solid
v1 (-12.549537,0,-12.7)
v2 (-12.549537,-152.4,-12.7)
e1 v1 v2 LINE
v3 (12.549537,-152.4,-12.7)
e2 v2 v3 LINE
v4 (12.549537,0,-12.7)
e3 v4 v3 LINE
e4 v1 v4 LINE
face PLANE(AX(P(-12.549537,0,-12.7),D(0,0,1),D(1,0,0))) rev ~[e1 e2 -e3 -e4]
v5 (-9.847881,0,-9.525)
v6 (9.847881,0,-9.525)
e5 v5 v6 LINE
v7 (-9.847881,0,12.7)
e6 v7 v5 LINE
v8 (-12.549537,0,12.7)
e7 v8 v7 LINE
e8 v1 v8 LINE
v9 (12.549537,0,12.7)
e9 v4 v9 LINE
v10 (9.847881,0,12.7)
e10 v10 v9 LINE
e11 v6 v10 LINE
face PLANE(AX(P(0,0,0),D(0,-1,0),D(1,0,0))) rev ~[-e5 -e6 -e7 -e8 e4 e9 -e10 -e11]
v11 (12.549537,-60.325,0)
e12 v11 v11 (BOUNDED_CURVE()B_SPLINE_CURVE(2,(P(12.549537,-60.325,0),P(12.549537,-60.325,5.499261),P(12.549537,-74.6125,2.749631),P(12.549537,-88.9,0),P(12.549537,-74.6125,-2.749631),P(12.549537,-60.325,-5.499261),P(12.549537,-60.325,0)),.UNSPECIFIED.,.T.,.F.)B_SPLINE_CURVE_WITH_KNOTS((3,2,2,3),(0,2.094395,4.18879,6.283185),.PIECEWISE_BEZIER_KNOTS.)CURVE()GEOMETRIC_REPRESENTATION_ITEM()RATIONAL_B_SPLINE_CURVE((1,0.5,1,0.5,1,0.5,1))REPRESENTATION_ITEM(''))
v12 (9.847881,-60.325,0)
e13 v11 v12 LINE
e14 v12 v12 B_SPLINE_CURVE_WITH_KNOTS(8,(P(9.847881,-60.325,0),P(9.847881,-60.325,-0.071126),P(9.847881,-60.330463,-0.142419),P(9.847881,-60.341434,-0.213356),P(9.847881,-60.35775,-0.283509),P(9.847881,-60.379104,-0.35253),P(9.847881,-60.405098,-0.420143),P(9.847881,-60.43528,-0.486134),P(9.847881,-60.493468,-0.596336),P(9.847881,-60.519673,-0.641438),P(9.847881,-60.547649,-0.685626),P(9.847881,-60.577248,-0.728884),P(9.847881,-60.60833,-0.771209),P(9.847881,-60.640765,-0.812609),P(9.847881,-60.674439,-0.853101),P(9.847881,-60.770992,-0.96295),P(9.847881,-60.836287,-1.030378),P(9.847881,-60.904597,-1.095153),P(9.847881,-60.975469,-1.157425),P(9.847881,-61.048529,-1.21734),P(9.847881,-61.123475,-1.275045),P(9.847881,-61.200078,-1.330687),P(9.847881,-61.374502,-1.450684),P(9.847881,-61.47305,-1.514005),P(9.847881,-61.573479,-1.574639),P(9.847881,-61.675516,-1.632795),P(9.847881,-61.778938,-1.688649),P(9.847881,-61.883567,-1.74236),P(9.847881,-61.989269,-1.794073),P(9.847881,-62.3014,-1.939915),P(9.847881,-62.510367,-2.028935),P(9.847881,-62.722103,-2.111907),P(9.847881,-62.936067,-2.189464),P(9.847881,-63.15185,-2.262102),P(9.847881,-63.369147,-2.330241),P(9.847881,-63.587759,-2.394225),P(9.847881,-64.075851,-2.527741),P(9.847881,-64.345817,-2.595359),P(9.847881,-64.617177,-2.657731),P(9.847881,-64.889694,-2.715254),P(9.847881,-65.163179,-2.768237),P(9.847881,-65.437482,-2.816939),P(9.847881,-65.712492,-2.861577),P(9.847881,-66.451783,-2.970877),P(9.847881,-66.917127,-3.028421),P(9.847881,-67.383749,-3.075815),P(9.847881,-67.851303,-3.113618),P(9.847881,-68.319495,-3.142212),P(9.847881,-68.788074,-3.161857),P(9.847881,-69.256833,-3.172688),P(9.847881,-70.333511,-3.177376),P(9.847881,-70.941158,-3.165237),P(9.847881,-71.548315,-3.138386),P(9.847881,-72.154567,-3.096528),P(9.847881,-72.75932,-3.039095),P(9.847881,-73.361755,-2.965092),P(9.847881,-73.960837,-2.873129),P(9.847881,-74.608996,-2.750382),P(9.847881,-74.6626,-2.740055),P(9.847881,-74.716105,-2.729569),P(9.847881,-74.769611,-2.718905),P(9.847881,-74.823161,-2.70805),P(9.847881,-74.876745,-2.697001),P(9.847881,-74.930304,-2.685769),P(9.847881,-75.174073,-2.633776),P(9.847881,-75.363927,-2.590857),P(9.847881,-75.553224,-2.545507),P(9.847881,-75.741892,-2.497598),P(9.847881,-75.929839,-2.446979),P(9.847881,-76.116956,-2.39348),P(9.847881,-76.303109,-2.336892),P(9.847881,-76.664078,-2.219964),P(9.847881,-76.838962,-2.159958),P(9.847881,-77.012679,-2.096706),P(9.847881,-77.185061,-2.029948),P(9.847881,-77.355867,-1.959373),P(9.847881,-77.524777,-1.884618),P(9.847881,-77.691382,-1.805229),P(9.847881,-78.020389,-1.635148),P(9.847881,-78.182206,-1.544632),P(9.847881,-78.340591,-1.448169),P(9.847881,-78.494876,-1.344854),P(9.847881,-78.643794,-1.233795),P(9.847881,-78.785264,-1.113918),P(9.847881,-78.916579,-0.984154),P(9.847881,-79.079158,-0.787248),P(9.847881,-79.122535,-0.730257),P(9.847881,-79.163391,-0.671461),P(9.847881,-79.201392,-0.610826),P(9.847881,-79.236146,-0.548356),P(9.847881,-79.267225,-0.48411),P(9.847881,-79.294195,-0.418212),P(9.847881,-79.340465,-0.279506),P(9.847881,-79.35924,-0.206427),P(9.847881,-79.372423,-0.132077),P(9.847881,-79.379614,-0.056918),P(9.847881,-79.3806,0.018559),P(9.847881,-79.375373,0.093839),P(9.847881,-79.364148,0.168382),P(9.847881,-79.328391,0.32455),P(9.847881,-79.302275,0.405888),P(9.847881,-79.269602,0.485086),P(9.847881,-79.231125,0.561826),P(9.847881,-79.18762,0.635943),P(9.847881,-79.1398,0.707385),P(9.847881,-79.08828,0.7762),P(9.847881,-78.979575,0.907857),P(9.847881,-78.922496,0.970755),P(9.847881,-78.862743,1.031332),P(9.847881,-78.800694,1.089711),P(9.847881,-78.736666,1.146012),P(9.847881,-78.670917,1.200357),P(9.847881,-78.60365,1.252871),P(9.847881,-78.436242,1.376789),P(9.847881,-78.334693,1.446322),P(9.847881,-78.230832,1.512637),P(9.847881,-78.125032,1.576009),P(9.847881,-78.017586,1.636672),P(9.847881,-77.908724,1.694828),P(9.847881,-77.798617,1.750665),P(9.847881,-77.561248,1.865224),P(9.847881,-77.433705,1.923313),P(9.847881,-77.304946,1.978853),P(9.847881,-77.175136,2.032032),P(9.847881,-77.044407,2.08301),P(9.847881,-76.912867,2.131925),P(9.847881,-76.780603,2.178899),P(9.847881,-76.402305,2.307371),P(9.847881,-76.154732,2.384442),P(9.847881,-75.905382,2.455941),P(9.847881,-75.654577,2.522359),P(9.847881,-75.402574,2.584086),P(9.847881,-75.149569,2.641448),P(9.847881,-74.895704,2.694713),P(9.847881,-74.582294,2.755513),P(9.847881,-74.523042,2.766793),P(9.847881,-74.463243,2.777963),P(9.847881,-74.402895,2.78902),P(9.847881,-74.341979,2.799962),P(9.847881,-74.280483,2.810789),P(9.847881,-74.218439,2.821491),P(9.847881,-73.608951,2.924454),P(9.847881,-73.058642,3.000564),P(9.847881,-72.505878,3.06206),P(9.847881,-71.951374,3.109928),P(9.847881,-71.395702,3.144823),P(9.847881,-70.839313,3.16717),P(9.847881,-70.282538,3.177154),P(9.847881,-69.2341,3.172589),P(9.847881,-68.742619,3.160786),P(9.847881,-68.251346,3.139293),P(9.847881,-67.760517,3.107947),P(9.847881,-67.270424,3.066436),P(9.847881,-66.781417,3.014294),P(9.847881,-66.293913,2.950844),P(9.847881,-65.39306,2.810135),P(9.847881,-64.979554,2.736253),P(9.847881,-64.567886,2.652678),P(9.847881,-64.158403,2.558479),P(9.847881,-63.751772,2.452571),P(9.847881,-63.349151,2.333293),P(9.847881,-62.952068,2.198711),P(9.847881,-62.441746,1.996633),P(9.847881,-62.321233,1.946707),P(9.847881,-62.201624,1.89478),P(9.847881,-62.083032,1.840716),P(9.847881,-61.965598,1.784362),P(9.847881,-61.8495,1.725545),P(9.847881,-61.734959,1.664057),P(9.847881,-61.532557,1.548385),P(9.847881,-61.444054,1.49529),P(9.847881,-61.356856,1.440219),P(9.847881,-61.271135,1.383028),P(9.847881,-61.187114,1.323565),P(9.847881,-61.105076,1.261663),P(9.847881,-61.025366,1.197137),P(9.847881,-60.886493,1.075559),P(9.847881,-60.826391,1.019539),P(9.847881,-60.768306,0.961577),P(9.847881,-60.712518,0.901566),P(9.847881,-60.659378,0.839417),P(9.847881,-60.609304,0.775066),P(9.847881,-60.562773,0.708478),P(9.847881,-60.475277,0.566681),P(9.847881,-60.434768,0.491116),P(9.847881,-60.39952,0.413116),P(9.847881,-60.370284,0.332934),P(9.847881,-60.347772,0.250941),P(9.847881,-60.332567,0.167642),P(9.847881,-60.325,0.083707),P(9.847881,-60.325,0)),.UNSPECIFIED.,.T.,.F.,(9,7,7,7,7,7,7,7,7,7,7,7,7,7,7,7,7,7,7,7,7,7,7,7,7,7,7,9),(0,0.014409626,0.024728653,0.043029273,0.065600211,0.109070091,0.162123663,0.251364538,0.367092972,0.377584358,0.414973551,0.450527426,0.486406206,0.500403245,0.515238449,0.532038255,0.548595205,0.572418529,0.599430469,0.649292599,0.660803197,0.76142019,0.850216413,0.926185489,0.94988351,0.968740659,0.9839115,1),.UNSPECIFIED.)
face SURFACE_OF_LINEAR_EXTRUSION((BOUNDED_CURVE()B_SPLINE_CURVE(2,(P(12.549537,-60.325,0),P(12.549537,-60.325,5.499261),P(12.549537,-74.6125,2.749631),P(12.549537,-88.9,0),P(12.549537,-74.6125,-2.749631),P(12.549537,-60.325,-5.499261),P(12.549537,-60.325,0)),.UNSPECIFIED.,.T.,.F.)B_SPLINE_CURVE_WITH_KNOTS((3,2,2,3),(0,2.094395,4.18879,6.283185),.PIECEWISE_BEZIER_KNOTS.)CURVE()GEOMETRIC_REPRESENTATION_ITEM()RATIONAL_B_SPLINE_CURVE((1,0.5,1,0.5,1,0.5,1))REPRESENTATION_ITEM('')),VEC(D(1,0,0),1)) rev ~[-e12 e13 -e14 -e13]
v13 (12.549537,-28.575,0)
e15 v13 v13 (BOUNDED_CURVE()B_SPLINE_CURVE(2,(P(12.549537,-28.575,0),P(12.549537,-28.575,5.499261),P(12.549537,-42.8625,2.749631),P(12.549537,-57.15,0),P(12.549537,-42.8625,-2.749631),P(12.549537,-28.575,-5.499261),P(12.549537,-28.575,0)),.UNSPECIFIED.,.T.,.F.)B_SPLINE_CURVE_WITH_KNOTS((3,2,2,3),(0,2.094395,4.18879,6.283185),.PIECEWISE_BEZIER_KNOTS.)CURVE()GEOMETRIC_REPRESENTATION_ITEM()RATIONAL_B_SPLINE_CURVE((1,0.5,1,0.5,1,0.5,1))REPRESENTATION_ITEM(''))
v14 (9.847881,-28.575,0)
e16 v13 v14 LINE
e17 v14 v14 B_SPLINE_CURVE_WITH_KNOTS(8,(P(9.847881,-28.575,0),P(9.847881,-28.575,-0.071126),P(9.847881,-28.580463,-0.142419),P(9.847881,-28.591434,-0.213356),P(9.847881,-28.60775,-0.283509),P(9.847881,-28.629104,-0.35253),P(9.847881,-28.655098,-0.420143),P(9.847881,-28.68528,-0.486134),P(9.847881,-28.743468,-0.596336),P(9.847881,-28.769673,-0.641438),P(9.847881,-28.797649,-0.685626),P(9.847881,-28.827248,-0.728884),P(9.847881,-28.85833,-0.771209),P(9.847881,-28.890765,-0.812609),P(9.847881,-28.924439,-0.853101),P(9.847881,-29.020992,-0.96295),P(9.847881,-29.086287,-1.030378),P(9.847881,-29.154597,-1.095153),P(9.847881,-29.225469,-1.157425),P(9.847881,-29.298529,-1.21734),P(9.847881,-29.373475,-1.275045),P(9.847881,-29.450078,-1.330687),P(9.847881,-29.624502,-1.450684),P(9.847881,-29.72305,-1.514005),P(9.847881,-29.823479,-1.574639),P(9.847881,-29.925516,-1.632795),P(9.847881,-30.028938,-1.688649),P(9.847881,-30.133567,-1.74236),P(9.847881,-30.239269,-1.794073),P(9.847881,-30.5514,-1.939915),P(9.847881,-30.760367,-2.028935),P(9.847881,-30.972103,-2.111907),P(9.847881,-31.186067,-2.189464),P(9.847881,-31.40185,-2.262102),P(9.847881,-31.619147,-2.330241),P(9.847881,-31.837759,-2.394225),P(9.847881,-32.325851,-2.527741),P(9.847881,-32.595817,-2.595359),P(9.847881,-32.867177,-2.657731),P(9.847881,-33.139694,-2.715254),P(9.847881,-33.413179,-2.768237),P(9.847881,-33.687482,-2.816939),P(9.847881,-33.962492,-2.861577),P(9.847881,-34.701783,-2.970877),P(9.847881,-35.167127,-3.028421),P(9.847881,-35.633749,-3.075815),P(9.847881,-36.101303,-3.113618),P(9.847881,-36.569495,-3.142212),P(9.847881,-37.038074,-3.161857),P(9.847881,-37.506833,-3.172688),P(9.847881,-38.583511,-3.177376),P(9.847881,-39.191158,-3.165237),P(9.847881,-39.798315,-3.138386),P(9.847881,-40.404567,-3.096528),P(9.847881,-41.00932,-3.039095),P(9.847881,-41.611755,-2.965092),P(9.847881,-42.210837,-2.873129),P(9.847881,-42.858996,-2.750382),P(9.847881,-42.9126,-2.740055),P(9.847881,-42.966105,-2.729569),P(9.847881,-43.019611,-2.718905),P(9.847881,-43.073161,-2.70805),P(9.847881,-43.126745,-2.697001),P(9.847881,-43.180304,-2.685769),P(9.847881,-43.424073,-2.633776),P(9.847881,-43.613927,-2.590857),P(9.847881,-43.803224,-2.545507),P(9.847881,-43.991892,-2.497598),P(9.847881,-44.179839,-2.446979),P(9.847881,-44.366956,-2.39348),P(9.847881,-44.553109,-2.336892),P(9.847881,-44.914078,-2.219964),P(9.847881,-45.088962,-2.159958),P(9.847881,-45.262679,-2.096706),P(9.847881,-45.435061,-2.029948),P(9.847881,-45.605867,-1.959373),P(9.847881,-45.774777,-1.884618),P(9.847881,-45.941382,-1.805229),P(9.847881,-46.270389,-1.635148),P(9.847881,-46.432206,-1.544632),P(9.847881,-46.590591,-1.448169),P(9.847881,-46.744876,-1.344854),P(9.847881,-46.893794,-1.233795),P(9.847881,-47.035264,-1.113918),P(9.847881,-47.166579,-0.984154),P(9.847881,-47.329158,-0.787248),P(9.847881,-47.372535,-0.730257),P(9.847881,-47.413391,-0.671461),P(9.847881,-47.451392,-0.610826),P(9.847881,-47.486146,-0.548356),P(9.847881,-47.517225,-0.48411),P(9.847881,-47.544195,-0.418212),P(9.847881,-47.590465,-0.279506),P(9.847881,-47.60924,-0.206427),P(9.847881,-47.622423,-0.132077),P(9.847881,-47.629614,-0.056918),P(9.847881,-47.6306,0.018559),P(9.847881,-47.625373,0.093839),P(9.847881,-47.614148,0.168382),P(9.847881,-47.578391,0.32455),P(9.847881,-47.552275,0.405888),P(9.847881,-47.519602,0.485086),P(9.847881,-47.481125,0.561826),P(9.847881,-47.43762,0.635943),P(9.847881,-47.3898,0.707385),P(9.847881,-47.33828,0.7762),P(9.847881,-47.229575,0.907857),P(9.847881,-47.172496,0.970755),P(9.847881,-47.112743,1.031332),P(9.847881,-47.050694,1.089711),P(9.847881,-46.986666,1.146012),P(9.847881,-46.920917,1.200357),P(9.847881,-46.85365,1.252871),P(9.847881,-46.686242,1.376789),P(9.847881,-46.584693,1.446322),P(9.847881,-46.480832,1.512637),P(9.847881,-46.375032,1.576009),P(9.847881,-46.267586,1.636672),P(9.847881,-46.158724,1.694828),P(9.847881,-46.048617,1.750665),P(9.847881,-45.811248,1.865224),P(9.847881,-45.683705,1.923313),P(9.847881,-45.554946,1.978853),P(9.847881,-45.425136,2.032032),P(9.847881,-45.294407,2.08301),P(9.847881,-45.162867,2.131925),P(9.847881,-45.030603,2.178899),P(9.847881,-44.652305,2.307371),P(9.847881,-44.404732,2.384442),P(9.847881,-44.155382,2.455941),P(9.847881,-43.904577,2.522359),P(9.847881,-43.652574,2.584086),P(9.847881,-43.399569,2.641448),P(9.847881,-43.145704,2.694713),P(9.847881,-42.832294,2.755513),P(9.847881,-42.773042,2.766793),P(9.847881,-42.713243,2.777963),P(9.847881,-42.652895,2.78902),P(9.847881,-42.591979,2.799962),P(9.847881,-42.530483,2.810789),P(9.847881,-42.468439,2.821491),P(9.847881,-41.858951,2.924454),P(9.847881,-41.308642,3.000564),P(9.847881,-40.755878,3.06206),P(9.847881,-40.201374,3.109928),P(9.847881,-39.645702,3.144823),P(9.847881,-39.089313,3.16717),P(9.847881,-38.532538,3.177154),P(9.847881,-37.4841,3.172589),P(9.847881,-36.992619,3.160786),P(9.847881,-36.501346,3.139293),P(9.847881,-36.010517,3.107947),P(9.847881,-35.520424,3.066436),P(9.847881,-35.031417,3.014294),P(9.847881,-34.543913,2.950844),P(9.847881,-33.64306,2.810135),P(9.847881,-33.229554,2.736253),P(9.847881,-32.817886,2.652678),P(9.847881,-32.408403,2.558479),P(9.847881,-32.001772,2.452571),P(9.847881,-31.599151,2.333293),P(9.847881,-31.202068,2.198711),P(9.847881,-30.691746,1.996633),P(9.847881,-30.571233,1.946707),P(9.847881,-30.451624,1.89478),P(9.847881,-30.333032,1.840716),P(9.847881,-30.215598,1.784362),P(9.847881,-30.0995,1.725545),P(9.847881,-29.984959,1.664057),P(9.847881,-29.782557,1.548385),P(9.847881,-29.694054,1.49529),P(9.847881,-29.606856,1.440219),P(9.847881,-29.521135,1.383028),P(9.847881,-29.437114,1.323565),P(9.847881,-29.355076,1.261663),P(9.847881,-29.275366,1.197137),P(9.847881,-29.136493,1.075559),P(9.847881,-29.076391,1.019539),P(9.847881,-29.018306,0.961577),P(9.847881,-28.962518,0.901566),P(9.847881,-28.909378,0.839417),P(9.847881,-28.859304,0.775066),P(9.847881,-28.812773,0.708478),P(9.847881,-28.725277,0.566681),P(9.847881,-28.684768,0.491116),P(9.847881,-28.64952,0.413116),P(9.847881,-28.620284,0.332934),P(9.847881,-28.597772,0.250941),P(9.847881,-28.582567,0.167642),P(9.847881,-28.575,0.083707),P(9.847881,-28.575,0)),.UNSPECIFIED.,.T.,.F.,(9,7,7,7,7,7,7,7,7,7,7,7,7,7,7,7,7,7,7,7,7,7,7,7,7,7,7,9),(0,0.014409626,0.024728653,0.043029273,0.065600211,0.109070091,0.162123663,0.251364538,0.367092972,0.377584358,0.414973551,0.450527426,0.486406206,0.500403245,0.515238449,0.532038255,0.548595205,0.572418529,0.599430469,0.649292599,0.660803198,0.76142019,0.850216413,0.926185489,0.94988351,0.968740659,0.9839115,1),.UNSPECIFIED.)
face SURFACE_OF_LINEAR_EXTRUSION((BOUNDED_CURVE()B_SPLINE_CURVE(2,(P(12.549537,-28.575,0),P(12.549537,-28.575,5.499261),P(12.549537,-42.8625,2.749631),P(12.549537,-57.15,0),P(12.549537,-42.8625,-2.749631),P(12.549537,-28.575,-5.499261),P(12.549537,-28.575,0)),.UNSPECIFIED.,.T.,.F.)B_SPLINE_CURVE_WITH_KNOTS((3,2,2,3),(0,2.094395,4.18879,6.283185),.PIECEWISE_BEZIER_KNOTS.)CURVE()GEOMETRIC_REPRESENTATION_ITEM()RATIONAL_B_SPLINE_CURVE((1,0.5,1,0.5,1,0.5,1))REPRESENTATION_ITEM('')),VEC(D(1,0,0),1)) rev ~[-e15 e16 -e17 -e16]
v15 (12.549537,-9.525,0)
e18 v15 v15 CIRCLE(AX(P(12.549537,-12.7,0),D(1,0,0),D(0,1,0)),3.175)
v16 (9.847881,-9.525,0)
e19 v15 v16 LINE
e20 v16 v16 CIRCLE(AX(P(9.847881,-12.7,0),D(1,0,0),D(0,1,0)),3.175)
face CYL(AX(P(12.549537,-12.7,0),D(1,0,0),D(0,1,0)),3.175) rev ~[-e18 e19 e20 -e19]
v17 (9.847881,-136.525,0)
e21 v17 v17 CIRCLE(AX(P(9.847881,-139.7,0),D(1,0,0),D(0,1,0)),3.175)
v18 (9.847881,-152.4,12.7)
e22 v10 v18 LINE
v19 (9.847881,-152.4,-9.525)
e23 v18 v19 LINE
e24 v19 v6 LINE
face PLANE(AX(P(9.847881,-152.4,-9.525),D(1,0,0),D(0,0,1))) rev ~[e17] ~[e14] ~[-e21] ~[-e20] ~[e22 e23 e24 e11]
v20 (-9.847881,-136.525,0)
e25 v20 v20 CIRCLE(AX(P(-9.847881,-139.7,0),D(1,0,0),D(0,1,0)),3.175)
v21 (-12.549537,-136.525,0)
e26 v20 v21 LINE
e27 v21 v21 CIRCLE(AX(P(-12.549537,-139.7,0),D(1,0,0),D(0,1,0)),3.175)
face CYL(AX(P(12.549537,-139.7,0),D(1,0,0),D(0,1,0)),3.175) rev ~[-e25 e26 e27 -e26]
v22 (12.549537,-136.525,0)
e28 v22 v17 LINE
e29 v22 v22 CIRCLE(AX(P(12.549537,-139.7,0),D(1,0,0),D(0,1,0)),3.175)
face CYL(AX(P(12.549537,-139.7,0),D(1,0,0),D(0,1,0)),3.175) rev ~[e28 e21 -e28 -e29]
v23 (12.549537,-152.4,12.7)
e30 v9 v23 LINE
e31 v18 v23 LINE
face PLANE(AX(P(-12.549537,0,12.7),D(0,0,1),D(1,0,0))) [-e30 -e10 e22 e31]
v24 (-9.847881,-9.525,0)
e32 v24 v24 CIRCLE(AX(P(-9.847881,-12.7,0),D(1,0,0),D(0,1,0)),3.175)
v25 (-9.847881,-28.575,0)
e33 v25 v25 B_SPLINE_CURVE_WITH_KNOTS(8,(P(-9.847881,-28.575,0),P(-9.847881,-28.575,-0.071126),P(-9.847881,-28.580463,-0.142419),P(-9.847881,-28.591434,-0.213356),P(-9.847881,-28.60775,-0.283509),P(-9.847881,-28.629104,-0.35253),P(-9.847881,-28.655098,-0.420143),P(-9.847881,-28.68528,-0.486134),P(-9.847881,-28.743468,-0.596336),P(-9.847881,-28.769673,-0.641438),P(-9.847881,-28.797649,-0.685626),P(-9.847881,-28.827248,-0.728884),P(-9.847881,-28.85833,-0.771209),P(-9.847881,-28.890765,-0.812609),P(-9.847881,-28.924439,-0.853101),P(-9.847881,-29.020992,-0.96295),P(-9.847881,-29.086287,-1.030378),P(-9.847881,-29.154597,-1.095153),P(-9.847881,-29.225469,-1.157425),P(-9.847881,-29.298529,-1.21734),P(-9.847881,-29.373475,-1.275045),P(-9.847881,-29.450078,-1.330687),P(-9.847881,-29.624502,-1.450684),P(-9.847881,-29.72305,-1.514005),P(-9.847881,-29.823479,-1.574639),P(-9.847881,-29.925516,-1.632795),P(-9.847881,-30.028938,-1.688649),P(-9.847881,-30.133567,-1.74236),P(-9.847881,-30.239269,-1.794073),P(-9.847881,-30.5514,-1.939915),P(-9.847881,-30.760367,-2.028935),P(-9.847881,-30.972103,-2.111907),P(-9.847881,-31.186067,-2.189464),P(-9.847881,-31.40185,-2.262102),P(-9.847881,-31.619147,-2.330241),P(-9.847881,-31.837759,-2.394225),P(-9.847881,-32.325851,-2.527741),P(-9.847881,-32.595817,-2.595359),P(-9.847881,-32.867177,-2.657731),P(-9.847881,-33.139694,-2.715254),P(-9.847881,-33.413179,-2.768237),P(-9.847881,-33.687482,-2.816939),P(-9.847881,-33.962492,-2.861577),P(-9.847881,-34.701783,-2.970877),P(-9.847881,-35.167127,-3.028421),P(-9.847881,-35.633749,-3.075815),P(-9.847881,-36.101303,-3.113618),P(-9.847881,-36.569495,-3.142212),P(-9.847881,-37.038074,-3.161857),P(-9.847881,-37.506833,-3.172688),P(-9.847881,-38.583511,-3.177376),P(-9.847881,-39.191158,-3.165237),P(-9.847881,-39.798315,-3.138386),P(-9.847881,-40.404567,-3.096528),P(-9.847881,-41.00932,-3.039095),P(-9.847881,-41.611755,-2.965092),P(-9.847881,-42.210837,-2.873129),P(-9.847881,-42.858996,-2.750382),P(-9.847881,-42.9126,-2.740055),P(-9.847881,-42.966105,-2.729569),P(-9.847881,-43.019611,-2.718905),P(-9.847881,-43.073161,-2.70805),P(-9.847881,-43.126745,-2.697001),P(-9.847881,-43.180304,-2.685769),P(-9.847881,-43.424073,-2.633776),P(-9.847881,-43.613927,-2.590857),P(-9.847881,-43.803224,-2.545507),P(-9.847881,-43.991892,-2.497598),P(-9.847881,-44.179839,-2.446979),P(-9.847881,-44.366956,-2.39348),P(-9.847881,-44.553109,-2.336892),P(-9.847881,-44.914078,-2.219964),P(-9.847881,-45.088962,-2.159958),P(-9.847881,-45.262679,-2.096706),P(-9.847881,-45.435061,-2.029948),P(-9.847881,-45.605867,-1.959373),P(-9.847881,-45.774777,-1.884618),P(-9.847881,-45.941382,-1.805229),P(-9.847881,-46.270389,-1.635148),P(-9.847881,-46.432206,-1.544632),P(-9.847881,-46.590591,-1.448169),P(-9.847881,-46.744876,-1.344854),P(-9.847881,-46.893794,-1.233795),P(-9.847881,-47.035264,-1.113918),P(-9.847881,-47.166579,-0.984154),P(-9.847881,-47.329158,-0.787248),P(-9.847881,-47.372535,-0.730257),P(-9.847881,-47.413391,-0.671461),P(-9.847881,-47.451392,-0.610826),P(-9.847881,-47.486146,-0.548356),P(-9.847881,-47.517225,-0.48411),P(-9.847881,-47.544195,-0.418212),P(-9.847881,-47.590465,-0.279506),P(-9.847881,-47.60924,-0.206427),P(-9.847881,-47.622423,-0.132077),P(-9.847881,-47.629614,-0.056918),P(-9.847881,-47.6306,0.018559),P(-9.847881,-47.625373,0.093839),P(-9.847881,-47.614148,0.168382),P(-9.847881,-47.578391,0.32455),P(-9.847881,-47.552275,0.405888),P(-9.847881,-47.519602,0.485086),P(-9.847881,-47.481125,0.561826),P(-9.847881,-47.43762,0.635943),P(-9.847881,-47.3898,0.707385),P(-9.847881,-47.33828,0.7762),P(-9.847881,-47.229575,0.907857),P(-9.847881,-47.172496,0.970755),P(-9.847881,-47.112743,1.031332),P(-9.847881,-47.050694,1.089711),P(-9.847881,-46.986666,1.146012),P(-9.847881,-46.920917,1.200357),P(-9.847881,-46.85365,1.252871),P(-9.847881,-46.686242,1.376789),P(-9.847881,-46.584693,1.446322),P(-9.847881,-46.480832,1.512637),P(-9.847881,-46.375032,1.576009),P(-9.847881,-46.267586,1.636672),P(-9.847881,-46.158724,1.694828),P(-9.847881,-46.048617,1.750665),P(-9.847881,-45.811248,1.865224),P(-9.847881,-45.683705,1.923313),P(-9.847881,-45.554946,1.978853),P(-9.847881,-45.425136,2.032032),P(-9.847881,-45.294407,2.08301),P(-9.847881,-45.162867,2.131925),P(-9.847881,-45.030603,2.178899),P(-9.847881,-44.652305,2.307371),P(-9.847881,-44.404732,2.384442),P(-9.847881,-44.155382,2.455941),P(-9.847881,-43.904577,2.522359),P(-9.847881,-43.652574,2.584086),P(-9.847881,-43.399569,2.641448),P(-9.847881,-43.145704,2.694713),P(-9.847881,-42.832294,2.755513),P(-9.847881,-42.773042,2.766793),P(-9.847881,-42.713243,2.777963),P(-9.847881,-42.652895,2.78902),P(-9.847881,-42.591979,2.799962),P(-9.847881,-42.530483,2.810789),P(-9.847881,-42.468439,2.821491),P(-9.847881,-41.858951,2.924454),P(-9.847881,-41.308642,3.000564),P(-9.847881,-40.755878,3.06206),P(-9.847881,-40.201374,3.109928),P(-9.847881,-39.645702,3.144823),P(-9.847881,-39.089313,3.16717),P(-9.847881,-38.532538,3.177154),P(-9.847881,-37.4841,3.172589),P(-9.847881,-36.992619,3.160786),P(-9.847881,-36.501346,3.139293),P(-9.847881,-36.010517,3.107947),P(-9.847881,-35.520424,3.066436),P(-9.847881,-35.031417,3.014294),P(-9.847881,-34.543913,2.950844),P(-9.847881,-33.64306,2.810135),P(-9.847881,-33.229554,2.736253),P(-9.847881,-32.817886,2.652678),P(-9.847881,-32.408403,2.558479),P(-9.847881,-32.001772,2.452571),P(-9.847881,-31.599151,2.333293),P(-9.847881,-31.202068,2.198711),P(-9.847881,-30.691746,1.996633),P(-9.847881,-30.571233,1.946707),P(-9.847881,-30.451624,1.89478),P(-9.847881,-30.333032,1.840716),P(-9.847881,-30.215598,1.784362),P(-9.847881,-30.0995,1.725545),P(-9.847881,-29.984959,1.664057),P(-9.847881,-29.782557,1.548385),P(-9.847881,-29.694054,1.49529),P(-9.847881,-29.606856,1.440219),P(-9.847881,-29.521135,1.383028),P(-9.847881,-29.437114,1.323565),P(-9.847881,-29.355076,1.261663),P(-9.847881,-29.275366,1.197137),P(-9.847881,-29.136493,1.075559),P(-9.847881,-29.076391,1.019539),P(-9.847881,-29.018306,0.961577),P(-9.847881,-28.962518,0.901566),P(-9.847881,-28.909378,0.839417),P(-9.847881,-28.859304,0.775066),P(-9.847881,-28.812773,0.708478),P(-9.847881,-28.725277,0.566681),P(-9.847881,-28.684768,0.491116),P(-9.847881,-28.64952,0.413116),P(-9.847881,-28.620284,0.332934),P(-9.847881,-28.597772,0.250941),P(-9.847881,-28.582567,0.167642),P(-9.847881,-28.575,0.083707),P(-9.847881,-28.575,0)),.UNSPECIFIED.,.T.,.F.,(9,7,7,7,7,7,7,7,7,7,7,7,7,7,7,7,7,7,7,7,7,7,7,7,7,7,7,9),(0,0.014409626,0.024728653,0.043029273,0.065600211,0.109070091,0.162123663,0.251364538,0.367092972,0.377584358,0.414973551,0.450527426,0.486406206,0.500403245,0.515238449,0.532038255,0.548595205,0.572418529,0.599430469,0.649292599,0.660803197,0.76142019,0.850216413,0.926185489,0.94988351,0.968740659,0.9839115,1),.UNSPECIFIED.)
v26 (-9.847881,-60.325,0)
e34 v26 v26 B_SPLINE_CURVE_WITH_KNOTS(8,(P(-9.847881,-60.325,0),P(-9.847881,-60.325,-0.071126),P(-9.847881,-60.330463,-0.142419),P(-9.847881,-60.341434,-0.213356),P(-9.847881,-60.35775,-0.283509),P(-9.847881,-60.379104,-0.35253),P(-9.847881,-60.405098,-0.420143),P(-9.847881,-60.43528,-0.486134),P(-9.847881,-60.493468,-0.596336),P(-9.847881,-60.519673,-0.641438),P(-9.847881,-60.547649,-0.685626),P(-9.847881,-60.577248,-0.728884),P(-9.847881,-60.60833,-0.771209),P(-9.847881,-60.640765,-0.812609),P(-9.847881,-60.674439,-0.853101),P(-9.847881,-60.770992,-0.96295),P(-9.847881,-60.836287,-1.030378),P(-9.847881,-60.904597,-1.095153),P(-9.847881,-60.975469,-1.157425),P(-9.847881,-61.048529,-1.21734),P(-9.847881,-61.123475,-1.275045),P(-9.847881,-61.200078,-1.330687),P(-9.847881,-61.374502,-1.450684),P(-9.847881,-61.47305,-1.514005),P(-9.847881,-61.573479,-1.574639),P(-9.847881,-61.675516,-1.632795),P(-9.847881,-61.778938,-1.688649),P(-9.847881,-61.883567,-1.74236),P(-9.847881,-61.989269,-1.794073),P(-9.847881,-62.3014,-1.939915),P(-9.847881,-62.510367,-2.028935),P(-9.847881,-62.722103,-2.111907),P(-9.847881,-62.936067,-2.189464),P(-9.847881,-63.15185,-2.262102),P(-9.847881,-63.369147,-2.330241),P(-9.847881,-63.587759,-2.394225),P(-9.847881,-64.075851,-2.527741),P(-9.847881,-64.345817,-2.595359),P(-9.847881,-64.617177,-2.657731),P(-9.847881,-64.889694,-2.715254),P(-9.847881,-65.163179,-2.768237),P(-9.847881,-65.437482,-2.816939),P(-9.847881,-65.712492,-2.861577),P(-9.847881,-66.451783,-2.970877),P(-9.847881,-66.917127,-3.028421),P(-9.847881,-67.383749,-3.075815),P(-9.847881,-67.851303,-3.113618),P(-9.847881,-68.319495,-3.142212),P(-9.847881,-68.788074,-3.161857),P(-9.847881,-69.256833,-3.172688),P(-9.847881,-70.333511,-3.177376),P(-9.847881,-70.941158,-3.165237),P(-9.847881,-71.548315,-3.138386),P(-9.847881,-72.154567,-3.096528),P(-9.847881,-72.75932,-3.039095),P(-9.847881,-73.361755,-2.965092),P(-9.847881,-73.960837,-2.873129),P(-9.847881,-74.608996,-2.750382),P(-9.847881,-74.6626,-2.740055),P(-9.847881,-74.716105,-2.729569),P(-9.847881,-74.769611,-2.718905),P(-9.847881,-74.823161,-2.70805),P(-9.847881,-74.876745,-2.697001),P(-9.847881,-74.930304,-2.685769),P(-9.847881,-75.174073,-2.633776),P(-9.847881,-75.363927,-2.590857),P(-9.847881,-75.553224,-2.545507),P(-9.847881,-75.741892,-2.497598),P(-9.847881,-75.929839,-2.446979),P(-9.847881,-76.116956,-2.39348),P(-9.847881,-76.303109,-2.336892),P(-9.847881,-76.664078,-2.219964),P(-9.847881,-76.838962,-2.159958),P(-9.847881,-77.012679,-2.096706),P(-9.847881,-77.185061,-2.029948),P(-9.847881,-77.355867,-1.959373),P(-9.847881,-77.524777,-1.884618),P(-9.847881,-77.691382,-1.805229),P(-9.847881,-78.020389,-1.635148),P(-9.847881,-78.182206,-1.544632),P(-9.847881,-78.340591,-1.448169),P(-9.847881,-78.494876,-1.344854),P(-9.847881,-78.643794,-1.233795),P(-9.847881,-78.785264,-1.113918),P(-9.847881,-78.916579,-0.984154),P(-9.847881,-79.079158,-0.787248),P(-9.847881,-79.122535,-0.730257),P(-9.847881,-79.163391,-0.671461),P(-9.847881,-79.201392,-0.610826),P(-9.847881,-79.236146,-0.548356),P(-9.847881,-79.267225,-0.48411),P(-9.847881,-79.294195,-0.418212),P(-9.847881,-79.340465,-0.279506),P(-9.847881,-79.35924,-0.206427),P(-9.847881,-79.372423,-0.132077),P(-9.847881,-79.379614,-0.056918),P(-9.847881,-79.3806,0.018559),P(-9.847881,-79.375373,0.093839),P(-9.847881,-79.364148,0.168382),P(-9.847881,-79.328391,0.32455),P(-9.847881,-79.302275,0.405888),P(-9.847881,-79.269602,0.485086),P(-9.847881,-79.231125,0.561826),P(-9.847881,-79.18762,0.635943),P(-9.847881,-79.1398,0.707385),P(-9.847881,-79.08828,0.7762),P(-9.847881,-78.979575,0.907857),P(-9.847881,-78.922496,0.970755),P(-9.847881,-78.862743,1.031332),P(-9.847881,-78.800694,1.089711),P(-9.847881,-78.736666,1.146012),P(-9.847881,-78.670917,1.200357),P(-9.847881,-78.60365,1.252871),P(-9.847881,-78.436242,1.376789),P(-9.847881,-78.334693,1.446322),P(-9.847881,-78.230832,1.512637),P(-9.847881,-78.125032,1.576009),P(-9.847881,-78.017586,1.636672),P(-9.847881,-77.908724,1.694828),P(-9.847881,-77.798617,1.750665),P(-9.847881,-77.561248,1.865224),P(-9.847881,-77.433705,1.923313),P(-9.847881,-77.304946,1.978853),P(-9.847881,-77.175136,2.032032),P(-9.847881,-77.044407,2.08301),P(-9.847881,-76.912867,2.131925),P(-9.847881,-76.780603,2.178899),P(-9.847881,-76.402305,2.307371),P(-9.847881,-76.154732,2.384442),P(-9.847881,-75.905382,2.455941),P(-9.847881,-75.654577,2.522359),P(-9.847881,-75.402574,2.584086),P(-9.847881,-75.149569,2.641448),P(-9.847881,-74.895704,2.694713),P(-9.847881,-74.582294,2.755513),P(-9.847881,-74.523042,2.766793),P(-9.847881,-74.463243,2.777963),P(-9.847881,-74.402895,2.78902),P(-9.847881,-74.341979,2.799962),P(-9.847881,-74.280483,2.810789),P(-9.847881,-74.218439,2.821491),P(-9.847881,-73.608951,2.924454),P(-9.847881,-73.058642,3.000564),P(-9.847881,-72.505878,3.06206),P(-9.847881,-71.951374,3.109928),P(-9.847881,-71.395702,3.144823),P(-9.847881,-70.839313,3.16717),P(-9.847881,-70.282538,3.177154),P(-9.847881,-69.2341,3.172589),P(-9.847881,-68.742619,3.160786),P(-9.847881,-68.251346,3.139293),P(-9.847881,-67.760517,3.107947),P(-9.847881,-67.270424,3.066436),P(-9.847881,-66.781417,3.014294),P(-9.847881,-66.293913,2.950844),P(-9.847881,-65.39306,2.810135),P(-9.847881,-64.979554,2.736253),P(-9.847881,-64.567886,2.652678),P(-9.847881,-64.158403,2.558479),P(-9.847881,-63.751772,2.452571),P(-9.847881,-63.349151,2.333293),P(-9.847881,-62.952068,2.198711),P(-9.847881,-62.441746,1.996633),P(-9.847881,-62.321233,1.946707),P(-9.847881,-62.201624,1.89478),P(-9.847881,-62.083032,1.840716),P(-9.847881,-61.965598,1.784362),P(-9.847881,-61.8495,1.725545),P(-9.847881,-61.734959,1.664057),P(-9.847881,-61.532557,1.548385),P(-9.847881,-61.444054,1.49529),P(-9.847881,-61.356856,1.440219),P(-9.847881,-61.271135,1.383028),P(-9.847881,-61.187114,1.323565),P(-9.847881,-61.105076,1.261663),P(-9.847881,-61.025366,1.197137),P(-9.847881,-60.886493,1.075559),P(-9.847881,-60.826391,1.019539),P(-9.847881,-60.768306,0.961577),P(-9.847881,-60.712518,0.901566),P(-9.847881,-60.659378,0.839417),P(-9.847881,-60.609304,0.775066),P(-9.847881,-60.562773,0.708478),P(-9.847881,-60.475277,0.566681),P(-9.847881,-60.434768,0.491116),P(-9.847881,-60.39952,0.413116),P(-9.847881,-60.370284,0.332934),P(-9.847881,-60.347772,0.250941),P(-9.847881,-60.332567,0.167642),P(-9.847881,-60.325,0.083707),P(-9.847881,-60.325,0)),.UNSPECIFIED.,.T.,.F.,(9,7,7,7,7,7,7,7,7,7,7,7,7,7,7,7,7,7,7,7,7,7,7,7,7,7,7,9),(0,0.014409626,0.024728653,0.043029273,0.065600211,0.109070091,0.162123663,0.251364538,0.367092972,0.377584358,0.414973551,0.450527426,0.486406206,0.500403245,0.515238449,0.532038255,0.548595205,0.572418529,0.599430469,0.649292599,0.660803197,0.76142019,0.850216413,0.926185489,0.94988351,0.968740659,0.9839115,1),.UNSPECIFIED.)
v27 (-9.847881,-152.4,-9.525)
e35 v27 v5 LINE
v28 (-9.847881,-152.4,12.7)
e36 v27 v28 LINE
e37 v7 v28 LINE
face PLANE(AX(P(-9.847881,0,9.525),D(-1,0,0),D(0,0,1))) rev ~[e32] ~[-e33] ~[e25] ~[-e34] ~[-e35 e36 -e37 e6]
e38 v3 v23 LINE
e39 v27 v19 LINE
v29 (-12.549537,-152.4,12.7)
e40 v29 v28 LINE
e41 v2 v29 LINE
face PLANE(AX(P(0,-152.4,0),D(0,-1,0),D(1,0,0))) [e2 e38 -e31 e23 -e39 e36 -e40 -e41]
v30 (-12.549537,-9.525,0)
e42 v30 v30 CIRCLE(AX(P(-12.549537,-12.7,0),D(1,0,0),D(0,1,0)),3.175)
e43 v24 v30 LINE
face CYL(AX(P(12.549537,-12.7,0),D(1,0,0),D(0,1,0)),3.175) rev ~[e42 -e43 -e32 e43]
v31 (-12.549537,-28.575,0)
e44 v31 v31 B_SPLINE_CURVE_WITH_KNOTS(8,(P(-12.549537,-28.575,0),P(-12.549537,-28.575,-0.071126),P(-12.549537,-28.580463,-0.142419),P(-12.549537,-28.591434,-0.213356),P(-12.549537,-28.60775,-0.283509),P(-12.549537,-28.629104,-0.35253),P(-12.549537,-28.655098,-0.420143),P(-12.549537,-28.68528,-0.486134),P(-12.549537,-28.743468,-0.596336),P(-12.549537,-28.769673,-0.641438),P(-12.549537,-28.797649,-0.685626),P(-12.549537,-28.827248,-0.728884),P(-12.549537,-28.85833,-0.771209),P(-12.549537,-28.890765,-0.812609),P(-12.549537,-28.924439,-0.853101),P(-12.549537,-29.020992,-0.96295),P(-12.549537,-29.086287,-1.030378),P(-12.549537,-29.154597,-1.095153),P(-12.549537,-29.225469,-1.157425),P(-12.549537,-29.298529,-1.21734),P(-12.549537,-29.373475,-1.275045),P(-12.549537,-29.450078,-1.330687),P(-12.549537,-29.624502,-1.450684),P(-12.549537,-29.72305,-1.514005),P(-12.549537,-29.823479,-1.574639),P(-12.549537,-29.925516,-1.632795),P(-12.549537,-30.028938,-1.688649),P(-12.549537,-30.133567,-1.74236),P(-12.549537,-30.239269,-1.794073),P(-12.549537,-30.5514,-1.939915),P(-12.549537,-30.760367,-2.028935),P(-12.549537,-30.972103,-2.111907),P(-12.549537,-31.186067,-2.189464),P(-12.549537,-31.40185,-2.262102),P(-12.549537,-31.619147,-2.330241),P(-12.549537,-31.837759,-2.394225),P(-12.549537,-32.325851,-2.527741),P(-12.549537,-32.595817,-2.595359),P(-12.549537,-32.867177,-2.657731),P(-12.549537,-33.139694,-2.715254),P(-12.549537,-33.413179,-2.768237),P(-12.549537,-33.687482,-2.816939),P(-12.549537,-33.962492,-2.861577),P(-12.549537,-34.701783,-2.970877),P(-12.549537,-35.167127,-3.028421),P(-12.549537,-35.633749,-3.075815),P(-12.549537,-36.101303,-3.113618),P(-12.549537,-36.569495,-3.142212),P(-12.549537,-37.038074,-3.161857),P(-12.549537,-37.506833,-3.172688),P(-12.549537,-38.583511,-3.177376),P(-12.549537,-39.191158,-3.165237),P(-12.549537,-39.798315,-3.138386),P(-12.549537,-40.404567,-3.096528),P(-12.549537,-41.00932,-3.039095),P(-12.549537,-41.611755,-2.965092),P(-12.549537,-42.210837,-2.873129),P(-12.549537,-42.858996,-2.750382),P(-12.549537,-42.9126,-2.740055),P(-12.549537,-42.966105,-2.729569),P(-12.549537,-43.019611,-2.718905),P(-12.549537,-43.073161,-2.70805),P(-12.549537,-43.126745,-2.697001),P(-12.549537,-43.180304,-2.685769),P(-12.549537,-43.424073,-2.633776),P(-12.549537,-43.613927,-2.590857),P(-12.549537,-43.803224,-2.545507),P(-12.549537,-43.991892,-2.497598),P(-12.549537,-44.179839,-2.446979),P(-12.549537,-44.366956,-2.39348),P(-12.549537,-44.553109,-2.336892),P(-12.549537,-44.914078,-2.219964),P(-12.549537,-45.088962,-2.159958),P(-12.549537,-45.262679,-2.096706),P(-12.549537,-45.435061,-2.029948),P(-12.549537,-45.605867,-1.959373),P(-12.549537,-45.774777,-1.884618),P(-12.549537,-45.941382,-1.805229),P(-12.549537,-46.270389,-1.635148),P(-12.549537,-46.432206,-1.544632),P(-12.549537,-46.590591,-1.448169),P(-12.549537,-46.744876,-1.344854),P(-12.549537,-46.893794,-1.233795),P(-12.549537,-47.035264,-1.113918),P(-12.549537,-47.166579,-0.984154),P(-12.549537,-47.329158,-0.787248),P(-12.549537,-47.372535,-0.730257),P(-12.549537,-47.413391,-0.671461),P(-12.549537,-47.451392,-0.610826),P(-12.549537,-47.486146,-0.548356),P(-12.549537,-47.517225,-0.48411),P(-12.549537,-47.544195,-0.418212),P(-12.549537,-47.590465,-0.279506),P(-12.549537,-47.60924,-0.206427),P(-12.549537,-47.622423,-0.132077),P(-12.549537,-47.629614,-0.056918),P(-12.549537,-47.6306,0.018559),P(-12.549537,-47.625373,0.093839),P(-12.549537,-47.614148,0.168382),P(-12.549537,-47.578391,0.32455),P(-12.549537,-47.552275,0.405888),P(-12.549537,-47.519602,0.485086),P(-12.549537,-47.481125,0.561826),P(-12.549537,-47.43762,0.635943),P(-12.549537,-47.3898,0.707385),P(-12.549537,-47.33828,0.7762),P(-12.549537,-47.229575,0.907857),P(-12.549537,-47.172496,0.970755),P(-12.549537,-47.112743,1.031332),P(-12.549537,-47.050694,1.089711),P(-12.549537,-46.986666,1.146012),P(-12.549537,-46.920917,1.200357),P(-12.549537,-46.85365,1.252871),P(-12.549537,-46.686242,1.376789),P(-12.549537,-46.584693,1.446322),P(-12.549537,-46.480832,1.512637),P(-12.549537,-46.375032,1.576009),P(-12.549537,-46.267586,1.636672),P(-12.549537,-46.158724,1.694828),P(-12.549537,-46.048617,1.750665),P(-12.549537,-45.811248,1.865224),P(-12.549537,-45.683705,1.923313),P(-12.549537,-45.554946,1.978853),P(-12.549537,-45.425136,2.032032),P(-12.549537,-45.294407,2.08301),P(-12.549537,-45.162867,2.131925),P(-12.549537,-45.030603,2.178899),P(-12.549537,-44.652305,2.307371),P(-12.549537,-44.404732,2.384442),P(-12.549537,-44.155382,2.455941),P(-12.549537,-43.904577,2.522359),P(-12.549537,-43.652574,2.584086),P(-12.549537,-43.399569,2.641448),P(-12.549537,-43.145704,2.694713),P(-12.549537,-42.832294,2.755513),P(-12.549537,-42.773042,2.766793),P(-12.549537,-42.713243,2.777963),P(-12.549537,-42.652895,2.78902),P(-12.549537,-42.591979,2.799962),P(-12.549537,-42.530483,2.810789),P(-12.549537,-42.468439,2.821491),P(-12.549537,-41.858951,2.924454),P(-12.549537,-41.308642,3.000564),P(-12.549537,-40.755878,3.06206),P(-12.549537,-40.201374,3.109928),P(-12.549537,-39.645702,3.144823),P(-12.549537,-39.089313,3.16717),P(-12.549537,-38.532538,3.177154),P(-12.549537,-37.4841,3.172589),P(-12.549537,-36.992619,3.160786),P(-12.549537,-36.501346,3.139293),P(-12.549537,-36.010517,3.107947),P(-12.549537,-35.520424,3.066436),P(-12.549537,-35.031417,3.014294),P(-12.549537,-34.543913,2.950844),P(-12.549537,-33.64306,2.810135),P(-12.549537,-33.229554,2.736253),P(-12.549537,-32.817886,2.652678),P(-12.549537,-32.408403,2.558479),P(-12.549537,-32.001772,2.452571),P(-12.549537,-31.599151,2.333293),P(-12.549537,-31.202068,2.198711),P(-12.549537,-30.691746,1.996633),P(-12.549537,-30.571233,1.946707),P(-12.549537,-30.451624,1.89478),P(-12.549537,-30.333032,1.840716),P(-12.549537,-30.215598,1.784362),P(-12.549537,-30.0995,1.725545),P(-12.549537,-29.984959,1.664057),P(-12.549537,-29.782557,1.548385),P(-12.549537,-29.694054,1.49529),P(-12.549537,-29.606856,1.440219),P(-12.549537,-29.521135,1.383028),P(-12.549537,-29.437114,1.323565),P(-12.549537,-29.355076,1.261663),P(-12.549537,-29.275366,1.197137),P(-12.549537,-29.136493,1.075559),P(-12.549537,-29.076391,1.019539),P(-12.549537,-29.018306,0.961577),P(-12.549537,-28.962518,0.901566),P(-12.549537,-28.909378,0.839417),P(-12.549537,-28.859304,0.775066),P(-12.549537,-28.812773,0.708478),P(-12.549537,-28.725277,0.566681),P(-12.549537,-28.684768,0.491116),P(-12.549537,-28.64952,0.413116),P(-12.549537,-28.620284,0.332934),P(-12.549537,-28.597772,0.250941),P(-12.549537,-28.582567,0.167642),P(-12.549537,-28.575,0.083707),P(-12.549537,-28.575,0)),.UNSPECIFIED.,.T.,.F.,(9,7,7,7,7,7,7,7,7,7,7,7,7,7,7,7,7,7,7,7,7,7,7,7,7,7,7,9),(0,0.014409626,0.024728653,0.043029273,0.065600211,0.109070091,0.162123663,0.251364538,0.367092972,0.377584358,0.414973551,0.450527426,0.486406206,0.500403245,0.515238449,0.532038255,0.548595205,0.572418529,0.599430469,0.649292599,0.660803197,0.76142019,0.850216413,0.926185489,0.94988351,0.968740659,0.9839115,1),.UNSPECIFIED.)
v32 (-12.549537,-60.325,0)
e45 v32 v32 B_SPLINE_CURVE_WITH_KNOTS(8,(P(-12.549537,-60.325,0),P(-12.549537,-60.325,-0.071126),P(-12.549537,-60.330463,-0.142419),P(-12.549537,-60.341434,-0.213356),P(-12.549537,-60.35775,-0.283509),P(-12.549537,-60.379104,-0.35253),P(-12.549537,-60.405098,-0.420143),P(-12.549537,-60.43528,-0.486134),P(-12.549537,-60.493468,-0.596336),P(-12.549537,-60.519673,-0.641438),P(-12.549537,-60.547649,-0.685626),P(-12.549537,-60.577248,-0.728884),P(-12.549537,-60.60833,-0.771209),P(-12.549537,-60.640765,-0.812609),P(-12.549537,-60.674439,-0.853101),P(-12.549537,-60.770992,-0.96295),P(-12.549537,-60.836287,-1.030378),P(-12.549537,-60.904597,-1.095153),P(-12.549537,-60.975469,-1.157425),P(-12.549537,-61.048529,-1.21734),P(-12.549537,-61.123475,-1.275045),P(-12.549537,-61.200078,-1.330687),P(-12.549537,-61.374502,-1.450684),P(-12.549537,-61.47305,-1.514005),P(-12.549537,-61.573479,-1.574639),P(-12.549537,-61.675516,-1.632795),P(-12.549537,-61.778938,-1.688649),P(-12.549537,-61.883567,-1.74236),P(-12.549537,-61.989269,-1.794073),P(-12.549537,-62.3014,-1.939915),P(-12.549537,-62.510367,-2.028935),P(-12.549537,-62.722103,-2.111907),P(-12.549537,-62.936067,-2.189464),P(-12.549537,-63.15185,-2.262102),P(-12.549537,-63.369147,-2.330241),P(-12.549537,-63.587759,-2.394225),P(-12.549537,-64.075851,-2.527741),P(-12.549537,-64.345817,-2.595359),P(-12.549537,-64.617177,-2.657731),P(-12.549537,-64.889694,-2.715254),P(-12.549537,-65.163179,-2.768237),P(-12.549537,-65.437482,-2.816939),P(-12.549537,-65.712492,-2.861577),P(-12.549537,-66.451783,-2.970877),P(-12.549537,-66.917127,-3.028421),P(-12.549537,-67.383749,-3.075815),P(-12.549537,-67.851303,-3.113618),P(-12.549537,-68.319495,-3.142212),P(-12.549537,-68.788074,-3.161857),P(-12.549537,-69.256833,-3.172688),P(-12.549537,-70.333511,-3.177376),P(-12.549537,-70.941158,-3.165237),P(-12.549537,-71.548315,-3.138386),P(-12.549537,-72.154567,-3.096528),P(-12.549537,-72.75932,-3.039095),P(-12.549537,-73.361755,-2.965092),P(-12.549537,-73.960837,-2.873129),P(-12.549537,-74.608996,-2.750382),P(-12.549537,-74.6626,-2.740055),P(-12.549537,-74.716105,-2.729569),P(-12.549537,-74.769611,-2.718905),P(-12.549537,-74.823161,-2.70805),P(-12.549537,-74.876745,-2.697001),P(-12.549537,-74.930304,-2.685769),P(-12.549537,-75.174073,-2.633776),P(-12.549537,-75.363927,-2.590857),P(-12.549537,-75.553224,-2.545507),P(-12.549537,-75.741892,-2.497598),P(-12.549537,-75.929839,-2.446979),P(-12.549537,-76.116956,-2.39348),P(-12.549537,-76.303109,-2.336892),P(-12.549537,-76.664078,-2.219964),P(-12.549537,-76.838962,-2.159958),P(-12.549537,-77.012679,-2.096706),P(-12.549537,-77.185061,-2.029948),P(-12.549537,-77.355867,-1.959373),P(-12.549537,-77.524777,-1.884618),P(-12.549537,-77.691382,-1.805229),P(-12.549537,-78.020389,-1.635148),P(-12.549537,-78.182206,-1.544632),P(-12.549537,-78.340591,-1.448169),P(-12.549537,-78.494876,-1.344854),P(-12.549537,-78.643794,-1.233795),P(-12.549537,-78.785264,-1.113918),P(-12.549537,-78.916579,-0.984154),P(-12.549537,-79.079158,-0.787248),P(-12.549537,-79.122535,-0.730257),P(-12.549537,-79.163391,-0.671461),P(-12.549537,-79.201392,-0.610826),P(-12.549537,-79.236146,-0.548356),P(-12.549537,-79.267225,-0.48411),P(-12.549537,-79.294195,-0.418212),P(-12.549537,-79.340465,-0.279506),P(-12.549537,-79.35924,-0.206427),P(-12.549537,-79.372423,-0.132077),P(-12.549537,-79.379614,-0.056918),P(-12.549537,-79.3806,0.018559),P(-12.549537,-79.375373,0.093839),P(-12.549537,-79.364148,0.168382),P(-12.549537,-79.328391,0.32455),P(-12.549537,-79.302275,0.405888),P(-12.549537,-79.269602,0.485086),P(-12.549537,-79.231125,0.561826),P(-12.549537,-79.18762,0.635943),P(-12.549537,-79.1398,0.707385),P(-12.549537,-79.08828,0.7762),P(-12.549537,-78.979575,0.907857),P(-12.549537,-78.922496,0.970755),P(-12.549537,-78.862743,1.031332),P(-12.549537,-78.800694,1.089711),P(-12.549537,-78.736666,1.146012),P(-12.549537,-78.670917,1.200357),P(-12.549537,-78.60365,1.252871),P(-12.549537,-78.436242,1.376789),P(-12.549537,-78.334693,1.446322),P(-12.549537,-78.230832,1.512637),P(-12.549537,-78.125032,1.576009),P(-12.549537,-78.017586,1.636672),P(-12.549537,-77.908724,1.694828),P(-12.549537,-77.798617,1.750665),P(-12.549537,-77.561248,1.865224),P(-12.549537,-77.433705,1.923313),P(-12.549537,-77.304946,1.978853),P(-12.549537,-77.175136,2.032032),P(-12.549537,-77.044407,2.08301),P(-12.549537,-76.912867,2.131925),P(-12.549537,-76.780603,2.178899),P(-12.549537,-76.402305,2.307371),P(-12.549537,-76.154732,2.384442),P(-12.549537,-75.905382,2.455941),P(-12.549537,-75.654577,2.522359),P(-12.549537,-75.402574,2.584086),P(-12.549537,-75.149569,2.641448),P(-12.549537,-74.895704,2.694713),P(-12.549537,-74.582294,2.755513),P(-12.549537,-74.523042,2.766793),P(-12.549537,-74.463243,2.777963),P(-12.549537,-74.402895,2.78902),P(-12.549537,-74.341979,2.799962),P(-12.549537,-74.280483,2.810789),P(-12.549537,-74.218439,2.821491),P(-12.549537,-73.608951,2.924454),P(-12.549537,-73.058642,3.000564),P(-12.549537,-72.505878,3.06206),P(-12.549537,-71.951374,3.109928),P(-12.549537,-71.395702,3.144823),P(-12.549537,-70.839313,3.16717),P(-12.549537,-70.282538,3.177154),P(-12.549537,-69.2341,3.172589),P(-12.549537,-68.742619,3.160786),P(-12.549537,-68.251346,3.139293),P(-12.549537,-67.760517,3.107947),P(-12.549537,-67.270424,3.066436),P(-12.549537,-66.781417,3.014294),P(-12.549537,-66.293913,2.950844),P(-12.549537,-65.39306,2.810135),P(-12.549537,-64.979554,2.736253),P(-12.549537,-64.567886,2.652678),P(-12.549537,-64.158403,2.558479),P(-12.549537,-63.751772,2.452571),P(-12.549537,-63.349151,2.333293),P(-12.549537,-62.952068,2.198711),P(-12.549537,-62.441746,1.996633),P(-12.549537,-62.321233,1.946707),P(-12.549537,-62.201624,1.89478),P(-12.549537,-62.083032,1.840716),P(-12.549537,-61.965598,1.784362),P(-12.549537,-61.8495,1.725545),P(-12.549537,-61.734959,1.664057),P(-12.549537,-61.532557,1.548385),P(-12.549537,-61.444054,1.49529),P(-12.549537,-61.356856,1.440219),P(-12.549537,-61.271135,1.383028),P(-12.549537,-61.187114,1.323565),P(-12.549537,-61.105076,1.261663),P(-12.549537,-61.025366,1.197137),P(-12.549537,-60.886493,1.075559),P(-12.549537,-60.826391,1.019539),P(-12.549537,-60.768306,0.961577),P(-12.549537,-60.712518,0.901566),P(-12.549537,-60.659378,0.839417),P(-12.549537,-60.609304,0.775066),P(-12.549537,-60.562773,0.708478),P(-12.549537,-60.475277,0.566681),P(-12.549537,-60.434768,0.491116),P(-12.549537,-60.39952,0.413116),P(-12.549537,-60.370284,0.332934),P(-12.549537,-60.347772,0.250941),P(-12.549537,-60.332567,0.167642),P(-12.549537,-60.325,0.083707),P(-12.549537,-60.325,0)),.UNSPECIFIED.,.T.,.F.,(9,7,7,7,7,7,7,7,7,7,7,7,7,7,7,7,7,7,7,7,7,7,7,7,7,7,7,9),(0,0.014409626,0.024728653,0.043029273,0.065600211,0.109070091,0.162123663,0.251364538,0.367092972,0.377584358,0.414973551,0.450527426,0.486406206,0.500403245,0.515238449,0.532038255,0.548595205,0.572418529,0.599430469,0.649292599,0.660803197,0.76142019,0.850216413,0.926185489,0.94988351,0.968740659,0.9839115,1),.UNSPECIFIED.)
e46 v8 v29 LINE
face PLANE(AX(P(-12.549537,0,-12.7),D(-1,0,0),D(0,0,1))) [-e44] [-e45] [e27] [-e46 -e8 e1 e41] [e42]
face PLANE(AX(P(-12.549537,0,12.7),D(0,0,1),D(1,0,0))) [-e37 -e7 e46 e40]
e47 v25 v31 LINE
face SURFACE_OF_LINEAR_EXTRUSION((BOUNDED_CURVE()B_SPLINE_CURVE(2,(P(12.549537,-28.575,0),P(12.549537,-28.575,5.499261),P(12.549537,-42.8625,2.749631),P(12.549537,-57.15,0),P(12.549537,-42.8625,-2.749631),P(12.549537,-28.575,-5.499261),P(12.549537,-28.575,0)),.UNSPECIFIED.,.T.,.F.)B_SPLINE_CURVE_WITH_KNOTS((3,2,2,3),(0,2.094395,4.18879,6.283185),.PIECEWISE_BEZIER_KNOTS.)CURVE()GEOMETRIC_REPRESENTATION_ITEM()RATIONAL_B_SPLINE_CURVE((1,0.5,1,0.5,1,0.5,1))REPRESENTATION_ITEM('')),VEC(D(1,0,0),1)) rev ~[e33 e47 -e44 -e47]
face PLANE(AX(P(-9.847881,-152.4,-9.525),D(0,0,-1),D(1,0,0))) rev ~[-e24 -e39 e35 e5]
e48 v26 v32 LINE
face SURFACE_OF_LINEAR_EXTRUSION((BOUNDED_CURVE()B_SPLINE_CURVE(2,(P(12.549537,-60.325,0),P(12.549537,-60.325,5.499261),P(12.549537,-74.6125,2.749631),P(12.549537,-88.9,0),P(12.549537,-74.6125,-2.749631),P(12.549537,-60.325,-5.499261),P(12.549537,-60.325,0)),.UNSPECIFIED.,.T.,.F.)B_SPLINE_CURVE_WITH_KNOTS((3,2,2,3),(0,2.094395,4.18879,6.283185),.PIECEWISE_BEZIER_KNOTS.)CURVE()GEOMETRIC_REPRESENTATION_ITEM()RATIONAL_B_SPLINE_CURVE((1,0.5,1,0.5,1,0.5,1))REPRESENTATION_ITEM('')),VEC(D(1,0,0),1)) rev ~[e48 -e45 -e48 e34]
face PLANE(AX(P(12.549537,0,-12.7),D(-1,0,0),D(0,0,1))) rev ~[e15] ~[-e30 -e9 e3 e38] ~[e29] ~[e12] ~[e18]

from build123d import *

# Parameters (mm, degrees)
F0_W     = 25.099074
F0_H     = 25.4
F1_DEPTH = 152.4
F2_W     = 19.695762
F2_H     = 19.05
F3_DEPTH = 203.2
F4_R     = 3.175
F5_DEPTH = 25.4
F6_W     = 19.695762
F6_H     = 3.175
F7_DEPTH = 203.2
F8_R     = 3.175
F9_DEPTH = 25.100073


with BuildPart() as f1:
    # F0 (on Front) → F1 (new body)
    with BuildSketch(Plane.XZ):
        Rectangle(F0_W, F0_H)
    extrude(amount=F1_DEPTH)

    # F2 (on face) → F3 (cut)
    with BuildSketch(Plane.XZ.offset(152.4)):
        Rectangle(F2_W, F2_H)
    extrude(amount=-F3_DEPTH, mode=Mode.SUBTRACT)

    # F4 (on face) → F5 (cut)
    with BuildSketch(Plane.YZ.offset(12.549537)):
        with Locations((-139.7, 0)):
            Circle(F4_R)
    extrude(amount=-F5_DEPTH, mode=Mode.SUBTRACT)

    # F6 (on face) → F7 (cut)
    with BuildSketch(Plane(origin=(0, 0, 0), x_dir=(-1, 0, 0), z_dir=(0, 1, 0))):
        with Locations((0, 11.1125)):
            Rectangle(F6_W, F6_H)
    extrude(amount=-F7_DEPTH, mode=Mode.SUBTRACT)

    # F8 (on face) → F9 (cut, through all)
    with BuildSketch(Plane.YZ.offset(12.549537)):
        with Locations((-12.7, 0)):
            Circle(F8_R)
        with BuildLine():
            add(Edge.make_bspline(
                [(-60.325, 0), (-60.325, 5.499261), (-74.6125, 2.749631), (-88.9, 0), (-74.6125, -2.749631), (-60.325, -5.499261), (-60.325, 0)],
                knots=[0, 0, 0, 2.094395, 2.094395, 4.18879, 4.18879, 6.283185, 6.283185, 6.283185], degree=2, weights=[1, 0.5, 1, 0.5, 1, 0.5, 1]))
        make_face()
        with BuildLine():
            add(Edge.make_bspline(
                [(-28.575, 0), (-28.575, 5.499261), (-42.8625, 2.749631), (-57.15, 0), (-42.8625, -2.749631), (-28.575, -5.499261), (-28.575, 0)],
                knots=[0, 0, 0, 2.094395, 2.094395, 4.18879, 4.18879, 6.283185, 6.283185, 6.283185], degree=2, weights=[1, 0.5, 1, 0.5, 1, 0.5, 1]))
        make_face()
    extrude(amount=-F9_DEPTH, mode=Mode.SUBTRACT)


solid = f1.part
